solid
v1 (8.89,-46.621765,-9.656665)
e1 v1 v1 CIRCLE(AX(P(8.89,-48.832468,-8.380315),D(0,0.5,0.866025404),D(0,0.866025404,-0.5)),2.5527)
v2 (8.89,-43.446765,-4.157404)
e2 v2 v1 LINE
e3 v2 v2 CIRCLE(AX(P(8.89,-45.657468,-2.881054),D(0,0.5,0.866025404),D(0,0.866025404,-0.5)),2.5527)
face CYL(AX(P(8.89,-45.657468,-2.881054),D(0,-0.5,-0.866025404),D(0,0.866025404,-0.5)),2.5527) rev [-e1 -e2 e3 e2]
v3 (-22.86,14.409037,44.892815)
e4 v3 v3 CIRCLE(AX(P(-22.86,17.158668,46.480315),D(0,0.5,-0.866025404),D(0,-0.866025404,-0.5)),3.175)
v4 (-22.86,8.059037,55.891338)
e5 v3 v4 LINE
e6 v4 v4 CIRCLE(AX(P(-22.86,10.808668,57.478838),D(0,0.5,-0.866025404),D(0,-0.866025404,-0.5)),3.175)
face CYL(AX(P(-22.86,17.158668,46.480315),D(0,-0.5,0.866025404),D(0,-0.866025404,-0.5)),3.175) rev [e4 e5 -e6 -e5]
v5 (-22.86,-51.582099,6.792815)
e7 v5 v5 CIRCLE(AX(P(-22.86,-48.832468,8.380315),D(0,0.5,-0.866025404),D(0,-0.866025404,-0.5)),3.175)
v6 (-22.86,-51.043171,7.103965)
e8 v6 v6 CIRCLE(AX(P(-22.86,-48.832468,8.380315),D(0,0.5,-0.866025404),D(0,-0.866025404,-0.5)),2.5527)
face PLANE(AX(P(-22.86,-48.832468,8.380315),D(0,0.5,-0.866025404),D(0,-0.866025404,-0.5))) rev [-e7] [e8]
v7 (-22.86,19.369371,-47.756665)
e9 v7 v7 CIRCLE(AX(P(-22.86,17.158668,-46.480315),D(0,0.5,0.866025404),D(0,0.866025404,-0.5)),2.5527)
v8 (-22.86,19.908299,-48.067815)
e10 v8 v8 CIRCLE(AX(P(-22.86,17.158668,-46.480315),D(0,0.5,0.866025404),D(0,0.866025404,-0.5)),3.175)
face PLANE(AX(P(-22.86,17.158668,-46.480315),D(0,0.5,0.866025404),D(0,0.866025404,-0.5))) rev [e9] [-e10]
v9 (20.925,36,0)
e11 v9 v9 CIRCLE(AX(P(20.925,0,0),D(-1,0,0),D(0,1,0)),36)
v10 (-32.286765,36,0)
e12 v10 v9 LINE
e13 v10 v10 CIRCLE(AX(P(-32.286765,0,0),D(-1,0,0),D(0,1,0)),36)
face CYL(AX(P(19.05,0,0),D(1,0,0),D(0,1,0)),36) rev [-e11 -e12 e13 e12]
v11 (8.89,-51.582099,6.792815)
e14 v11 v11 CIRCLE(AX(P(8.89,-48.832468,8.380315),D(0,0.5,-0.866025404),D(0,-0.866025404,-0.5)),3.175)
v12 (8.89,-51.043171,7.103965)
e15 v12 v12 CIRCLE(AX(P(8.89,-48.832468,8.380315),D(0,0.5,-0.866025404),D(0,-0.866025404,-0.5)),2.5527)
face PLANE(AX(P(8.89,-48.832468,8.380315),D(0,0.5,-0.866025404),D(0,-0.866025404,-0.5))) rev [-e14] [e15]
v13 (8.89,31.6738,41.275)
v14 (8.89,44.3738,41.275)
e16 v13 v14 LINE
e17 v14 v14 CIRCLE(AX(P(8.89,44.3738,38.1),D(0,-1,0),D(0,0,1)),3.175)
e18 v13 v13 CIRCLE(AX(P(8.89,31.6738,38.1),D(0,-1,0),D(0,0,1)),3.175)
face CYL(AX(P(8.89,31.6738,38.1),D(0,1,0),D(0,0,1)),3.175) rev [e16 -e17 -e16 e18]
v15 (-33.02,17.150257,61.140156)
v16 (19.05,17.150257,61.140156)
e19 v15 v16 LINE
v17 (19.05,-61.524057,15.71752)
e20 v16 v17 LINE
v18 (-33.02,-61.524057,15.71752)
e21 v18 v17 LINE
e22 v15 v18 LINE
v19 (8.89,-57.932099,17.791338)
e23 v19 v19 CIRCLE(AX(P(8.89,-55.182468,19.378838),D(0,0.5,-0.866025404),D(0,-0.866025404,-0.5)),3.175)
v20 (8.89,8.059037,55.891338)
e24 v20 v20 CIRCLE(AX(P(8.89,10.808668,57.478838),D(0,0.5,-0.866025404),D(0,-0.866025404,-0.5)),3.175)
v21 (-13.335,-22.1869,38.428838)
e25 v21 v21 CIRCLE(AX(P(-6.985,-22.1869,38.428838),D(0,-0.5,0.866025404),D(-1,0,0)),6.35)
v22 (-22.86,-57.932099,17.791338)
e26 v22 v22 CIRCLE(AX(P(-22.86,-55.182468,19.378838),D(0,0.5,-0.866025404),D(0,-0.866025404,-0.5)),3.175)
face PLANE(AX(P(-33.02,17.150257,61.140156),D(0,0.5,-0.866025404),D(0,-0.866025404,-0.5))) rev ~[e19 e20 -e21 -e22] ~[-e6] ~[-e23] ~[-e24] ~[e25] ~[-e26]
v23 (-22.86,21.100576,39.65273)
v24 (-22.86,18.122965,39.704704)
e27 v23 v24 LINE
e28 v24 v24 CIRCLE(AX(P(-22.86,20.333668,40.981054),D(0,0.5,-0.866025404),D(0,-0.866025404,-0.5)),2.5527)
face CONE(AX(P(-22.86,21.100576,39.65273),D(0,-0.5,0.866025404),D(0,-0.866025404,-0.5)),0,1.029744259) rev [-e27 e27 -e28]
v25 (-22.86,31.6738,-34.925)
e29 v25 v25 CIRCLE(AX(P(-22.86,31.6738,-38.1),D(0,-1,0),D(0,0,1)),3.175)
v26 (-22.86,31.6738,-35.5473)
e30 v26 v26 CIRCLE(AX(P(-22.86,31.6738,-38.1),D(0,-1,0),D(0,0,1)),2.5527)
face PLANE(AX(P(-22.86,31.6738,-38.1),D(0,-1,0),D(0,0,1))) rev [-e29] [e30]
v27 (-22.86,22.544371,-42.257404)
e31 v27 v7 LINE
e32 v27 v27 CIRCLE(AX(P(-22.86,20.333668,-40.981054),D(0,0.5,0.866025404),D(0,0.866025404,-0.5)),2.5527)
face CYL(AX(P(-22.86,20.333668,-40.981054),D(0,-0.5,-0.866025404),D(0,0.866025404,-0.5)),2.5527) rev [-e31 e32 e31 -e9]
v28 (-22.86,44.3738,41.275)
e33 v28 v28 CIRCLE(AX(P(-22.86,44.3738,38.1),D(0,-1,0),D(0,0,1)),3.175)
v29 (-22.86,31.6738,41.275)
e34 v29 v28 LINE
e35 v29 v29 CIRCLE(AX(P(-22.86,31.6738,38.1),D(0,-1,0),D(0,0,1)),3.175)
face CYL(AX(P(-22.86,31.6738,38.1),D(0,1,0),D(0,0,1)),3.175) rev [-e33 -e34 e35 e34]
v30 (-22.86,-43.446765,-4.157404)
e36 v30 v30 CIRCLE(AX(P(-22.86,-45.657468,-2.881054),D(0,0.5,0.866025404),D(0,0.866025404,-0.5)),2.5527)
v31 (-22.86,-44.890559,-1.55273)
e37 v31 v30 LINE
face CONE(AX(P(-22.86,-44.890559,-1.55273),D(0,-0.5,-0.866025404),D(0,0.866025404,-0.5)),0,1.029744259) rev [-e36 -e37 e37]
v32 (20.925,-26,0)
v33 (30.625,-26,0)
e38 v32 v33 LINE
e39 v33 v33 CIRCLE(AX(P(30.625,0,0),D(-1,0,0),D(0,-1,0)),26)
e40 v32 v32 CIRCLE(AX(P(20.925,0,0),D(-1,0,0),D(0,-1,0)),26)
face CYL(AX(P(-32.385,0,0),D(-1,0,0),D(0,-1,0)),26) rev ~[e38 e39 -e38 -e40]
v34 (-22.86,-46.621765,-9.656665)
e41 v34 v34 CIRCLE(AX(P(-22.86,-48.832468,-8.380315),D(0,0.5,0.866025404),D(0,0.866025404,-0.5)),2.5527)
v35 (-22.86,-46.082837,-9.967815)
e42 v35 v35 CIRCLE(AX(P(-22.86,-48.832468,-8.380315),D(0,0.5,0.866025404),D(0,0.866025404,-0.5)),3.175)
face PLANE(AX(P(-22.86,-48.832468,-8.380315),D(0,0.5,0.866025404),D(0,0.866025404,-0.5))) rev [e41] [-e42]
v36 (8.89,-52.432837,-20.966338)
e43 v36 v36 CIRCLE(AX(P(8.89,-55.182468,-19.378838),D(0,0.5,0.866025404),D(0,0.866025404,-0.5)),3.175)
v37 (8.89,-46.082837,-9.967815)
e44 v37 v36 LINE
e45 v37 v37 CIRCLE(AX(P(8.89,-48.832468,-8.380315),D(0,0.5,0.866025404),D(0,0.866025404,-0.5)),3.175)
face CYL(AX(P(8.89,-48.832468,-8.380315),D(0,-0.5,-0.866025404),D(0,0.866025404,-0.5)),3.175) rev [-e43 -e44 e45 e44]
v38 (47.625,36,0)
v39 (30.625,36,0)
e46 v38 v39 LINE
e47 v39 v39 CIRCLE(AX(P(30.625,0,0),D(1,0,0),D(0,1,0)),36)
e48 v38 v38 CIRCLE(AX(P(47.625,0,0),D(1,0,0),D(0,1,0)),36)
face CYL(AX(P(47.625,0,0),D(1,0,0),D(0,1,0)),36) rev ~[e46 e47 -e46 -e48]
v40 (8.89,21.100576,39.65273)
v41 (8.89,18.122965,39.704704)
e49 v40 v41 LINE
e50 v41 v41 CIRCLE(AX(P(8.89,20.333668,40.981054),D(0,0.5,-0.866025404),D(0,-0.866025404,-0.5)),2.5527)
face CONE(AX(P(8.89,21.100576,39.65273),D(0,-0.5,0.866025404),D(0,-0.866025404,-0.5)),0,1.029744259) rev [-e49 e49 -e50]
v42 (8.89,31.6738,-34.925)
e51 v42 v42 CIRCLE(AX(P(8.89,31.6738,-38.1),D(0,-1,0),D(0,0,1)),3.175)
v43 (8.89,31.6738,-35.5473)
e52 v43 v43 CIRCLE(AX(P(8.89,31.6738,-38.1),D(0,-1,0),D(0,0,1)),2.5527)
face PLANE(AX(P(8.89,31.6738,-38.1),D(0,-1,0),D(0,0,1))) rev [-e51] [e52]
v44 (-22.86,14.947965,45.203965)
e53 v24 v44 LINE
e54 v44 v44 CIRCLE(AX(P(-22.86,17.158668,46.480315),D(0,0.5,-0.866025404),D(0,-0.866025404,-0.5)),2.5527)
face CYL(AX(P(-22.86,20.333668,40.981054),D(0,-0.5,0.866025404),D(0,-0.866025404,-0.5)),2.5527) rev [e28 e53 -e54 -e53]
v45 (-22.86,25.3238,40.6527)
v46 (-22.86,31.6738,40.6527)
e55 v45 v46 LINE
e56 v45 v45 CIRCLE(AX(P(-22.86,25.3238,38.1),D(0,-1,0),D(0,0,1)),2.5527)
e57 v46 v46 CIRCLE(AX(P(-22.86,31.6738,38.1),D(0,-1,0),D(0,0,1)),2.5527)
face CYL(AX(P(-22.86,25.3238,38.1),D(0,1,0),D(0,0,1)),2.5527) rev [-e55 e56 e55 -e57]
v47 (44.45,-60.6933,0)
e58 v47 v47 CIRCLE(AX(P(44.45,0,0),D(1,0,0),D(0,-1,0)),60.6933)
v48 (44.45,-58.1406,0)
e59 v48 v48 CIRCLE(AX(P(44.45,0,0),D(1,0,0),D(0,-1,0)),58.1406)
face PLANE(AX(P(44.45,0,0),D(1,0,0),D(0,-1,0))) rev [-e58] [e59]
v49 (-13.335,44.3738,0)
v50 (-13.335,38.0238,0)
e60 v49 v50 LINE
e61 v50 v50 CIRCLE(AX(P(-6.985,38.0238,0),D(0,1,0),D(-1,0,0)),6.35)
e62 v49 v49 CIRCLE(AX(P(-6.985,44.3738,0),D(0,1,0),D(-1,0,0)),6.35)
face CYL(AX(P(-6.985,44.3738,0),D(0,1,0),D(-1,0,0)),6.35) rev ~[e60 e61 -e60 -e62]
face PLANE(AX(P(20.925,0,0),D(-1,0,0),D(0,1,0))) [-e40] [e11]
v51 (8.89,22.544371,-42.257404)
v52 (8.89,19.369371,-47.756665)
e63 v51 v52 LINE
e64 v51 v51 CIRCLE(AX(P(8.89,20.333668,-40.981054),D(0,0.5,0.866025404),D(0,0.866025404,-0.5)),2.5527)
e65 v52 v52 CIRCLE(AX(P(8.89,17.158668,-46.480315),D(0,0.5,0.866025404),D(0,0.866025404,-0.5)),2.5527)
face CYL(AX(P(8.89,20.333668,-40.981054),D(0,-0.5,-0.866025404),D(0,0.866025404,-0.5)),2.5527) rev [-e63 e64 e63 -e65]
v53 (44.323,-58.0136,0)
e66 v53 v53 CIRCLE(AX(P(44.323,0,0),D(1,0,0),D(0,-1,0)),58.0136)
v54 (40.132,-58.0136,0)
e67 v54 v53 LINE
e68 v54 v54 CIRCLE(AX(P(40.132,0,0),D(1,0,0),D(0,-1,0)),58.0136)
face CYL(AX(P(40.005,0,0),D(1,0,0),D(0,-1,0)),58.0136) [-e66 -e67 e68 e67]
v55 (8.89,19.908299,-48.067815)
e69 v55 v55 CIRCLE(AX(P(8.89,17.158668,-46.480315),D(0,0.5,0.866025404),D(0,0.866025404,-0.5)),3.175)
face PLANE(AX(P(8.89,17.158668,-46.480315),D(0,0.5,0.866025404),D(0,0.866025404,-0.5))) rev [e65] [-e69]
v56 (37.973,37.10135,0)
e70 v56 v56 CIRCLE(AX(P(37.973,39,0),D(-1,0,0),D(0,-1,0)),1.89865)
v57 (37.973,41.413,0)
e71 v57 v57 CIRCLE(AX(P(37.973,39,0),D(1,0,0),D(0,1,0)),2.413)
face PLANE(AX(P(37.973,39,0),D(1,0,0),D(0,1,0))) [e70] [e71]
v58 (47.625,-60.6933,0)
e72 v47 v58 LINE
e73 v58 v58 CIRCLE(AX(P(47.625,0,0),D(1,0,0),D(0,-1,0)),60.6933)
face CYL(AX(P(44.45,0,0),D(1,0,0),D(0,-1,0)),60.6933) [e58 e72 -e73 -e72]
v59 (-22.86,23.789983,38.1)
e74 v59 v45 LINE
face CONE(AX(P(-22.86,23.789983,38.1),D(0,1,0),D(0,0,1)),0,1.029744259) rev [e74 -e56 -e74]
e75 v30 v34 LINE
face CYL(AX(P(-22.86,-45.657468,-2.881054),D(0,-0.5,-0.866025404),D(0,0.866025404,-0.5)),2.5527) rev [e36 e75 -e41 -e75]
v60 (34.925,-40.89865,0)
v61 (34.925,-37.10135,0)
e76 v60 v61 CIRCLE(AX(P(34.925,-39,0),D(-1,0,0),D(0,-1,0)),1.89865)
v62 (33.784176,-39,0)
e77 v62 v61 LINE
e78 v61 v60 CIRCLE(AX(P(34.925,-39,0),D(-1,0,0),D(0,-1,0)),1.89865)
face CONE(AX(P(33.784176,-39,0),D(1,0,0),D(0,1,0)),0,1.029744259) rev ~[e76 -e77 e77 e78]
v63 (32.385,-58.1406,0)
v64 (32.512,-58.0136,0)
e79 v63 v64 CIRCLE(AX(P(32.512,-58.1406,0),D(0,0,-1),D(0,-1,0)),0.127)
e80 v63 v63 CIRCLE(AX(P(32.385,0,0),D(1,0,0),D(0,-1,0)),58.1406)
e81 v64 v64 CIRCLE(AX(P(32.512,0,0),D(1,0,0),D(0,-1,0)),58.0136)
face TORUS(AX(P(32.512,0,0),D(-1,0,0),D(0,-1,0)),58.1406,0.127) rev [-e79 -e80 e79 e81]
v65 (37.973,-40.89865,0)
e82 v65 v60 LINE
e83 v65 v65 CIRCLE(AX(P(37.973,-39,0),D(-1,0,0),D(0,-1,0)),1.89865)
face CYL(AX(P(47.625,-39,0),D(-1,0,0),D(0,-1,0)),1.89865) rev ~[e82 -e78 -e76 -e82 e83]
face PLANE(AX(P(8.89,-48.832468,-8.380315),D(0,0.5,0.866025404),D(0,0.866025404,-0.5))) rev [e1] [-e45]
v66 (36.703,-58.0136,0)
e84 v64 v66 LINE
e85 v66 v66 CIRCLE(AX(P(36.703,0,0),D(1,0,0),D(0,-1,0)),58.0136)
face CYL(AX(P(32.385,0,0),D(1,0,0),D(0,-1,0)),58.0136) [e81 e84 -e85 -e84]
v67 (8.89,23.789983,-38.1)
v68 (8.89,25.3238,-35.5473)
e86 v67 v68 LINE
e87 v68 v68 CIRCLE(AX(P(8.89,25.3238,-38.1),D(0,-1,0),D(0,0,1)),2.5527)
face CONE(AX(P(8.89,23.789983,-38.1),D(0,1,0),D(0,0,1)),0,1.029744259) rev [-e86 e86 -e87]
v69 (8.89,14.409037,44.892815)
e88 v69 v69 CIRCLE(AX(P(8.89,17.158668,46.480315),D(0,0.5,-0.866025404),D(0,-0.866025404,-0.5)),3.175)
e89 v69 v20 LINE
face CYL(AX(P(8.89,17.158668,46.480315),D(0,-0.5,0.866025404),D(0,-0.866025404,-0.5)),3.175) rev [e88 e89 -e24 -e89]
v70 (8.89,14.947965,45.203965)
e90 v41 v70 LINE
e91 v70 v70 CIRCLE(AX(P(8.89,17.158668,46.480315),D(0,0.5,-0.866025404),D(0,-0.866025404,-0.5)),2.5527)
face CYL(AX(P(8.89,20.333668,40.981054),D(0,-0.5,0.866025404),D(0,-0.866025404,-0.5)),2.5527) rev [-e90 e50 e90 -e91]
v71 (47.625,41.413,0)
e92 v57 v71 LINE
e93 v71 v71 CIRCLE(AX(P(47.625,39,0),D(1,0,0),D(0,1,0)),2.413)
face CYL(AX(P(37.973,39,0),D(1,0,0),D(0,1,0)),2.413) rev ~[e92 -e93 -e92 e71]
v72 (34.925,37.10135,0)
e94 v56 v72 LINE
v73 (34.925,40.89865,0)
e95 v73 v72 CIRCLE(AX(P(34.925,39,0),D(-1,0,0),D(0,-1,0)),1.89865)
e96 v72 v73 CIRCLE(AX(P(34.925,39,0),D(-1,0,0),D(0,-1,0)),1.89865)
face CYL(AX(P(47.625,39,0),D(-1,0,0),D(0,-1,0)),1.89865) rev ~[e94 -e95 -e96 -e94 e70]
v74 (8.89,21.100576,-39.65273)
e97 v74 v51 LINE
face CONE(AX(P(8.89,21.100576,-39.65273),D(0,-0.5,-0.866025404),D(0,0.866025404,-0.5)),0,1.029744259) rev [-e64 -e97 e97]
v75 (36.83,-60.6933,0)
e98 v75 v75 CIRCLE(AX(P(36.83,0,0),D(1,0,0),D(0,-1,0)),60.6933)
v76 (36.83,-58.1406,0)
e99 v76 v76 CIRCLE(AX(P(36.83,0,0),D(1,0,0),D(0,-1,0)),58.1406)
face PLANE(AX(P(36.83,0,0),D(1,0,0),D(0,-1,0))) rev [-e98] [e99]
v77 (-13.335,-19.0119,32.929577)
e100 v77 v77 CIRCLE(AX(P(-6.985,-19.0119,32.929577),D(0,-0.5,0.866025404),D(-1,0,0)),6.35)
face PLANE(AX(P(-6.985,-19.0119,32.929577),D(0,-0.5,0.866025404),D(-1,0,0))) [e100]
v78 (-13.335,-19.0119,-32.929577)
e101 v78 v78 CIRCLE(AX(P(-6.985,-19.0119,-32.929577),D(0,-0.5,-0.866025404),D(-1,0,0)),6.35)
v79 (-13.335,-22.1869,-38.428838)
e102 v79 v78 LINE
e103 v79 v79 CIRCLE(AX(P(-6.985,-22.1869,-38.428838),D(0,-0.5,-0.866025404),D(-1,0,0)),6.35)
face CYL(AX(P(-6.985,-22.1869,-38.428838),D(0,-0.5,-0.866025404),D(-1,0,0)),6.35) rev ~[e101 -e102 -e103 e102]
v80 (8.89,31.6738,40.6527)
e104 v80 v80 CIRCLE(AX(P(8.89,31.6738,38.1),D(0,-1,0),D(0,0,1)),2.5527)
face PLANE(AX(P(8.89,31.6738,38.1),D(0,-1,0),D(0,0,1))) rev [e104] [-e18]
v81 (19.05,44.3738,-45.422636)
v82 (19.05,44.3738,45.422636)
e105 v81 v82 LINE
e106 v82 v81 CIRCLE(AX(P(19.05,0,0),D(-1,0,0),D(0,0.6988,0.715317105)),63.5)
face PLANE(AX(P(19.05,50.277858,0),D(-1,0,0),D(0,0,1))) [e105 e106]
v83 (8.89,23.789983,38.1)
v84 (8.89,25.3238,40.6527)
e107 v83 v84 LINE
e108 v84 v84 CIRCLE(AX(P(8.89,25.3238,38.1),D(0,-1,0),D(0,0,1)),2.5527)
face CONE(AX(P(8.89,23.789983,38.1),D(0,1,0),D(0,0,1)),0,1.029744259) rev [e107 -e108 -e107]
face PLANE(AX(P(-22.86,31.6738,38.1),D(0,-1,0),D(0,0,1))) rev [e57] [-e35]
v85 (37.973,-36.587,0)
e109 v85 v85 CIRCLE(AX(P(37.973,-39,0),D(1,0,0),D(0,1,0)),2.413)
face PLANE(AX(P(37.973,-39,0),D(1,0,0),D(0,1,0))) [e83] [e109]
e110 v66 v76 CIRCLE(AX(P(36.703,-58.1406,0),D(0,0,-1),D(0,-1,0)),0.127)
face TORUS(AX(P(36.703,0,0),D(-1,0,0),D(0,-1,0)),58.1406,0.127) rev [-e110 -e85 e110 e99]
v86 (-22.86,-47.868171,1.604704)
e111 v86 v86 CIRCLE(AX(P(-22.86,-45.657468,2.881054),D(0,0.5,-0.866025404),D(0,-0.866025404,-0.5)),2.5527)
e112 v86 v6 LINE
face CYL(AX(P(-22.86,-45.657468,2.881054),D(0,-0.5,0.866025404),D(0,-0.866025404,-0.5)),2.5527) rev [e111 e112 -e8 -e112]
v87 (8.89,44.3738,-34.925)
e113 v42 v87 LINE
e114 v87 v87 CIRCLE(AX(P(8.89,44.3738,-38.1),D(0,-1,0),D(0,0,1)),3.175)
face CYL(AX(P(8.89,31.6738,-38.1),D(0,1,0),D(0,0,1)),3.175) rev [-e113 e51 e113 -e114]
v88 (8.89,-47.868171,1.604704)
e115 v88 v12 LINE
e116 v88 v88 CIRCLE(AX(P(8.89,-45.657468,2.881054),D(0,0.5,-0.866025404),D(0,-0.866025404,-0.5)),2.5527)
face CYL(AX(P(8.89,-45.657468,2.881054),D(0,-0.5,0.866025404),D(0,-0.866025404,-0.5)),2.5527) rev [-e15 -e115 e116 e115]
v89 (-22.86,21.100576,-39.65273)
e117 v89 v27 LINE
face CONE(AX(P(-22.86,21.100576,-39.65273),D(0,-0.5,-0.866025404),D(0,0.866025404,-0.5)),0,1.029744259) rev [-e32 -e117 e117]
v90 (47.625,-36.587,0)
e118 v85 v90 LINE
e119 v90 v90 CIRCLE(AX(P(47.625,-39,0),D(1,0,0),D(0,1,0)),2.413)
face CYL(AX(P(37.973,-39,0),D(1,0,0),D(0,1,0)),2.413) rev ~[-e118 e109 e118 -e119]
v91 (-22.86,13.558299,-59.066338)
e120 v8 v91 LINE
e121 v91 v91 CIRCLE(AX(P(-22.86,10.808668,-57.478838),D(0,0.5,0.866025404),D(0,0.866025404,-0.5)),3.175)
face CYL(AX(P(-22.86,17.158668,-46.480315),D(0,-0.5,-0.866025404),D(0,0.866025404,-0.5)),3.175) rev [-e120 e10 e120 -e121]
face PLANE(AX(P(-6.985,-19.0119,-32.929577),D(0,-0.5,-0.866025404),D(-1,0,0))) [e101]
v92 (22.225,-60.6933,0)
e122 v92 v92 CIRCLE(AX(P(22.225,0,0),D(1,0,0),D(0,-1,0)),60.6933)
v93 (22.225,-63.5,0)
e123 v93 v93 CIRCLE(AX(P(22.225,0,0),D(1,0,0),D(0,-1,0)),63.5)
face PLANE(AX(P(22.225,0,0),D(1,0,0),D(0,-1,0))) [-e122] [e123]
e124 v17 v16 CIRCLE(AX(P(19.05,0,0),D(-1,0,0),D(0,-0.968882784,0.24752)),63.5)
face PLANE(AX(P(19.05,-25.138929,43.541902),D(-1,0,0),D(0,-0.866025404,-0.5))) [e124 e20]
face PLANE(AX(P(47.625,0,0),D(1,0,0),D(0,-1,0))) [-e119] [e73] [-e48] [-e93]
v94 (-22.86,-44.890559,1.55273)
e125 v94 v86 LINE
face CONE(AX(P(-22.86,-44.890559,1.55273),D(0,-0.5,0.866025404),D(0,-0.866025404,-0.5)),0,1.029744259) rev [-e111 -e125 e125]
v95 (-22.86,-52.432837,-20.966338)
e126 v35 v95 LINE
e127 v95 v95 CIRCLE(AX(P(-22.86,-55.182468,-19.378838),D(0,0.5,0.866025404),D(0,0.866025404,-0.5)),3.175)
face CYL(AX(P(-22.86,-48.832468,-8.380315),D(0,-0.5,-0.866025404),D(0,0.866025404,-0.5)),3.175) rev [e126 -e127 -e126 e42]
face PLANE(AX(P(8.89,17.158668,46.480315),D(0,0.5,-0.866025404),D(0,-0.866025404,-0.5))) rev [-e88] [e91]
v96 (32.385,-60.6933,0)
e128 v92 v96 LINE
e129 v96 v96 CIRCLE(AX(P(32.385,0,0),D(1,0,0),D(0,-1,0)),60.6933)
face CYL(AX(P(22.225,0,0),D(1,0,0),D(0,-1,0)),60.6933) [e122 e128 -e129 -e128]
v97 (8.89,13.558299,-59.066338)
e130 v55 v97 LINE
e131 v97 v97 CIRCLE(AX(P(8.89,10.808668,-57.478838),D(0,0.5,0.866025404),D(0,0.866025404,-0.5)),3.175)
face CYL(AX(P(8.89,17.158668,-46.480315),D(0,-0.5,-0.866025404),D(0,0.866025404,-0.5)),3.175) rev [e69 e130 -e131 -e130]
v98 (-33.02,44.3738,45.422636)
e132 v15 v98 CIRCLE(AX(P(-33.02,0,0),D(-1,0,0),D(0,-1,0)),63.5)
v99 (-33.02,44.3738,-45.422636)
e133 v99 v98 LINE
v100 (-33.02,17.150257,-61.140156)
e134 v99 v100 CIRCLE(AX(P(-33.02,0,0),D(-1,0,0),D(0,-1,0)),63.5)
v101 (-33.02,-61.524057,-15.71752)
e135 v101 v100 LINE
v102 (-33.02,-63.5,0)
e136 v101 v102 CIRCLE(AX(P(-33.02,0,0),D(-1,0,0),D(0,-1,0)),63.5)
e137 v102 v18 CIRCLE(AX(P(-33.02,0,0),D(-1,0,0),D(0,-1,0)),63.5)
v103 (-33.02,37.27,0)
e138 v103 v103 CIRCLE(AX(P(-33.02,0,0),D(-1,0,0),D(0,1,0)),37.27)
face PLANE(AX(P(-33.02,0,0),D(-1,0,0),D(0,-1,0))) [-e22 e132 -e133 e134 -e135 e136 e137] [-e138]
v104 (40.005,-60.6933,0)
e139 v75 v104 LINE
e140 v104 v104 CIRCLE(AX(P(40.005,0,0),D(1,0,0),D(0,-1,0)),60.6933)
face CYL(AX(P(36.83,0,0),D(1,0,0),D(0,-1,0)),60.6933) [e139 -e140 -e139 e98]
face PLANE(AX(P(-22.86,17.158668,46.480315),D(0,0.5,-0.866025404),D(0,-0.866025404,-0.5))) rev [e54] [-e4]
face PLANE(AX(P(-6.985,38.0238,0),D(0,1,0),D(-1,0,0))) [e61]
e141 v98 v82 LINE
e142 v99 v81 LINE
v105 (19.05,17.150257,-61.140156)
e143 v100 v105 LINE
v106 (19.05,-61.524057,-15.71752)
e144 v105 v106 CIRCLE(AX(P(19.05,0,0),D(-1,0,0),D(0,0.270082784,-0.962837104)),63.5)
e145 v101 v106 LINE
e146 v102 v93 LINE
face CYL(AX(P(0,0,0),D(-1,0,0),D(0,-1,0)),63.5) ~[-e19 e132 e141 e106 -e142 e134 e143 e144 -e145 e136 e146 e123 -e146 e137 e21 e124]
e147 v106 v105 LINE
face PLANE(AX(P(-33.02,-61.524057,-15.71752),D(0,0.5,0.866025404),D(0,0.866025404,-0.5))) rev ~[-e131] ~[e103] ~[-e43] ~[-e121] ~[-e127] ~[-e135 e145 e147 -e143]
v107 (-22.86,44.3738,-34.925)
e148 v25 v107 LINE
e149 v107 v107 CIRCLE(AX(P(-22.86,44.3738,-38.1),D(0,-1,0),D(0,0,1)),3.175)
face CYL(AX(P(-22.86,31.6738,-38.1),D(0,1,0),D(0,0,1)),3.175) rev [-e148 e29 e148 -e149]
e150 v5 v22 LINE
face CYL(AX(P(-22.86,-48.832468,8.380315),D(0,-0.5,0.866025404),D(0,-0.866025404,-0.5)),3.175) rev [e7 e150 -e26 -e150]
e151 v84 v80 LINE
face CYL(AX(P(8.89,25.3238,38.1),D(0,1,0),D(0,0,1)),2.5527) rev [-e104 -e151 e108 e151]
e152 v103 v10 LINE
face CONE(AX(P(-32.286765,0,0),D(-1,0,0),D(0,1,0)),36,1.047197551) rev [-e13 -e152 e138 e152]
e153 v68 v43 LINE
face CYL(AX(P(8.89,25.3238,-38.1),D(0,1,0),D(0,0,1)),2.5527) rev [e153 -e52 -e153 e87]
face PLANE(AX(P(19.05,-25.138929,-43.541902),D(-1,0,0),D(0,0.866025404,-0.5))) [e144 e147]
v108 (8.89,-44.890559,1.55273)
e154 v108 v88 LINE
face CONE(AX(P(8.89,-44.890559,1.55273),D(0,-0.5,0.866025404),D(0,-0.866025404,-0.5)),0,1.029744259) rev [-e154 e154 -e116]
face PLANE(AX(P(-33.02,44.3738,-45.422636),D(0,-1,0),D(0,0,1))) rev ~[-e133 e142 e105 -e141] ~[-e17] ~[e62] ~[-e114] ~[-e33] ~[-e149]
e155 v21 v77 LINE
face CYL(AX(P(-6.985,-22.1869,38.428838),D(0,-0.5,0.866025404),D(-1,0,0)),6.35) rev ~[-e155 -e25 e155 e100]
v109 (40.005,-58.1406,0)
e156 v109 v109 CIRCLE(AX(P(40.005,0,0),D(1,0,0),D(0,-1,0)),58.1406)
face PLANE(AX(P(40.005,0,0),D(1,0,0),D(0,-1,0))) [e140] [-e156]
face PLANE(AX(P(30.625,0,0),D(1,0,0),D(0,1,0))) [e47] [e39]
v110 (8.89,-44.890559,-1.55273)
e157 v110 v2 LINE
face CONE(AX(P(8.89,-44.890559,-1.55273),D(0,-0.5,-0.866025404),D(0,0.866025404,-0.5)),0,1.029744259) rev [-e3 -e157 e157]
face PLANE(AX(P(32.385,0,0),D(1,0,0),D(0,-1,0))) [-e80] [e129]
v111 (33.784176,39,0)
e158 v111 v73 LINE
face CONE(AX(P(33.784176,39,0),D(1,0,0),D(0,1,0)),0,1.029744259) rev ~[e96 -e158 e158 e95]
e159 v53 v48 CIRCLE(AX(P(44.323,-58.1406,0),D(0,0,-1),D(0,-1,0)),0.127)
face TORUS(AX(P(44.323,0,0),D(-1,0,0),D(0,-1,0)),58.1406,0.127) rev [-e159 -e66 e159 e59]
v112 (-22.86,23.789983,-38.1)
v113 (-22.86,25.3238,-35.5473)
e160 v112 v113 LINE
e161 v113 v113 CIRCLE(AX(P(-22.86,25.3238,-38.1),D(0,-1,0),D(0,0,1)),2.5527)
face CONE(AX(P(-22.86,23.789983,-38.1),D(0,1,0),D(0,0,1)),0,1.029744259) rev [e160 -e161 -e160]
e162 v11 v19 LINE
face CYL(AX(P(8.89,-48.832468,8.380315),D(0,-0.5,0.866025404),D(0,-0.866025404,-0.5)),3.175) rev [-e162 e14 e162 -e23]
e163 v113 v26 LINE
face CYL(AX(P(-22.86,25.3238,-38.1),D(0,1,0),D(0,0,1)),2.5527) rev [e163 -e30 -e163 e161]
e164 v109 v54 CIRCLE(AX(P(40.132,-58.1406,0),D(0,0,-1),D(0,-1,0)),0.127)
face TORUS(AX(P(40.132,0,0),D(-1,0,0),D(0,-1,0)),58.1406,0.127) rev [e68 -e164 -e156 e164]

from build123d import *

# Parameters (mm, degrees)
CUT_EXTRUDE2_DEPTH               = 19.05
F_6_32_TAPPED_HOLE2_AT_2_COUNT   = 2
F_6_32_TAPPED_HOLE2_AT_2_PITCH   = 48.360159222
F_6_32_TAPPED_HOLE2_AT_3_COUNT   = 2
F_6_32_TAPPED_HOLE2_AT_3_PITCH   = 44.45
F_6_32_TAPPED_HOLE2_AT_4_COUNT   = 2
F_6_32_TAPPED_HOLE2_AT_4_PITCH   = 19.05
CIRPATTERN4_COUNT                = 3
FILLET1_R                        = 0.127
SKETCH26_R                       = 60.6933
CUT_EXTRUDE8_DEPTH               = 15.24
FILLET2_R                        = 3.175
FILLET3_R                        = 3.175
FILLET4_R                        = 3.175
SKETCH37_R                       = 36
CUT_EXTRUDE11_DEPTH              = 17
CUT_EXTRUDE12_REACH              = 122.275
SKETCH38_R                       = 26
CUT_EXTRUDE13_START              = -53.31
SKETCH39_R                       = 36
CUT_EXTRUDE13_DEPTH              = 53.31
BOSS_EXTRUDE1_DEPTH              = 0.635
BOSS_EXTRUDE1_DEPTH_BACK         = 51.435
SKETCH53_R                       = 63.5
SKETCH53_R_2                     = 36
CUT_EXTRUDE17_DEPTH              = 52.07
SKETCH55_R                       = 6.35
CUT_EXTRUDE18_DEPTH              = 6.35
F_1_4_20_TAPPED_HOLE2_AT_2_COUNT = 2
F_1_4_20_TAPPED_HOLE2_AT_2_PITCH = 31.75
F_1_4_20_TAPPED_HOLE2_AT_3_COUNT = 2
F_1_4_20_TAPPED_HOLE2_AT_3_PITCH = 82.55
F_1_4_20_TAPPED_HOLE2_AT_4_COUNT = 2
F_1_4_20_TAPPED_HOLE2_AT_4_PITCH = 76.2
CIRPATTERN6_COUNT                = 3
CHAMFER1_SIZE                    = 1.27
CHAMFER1_SIZE2                   = 0.733234842
F_10_24_TAPPED_HOLE1_D           = 3.7973
F_10_24_TAPPED_HOLE1_DEPTH       = 12.7
F_10_24_TAPPED_HOLE1_CBORE_D     = 4.826
F_10_24_TAPPED_HOLE1_CBORE_DEPTH = 9.652
F_10_24_TAPPED_HOLE1_TIP         = 1.140824014


with BuildPart() as part:
    # Sketch4 → Revolve1 (revolve)
    with BuildSketch(Plane.XY, mode=Mode.PRIVATE) as revolve1_sk:
        Polygon((0, 0), (0, 63.5), (22.225, 63.5), (22.225, 60.6933), (32.385, 60.6933), (32.385, 58.0136), (36.83, 58.0136), (36.83, 60.6933), (40.005, 60.6933), (40.005, 58.0136), (44.45, 58.0136), (44.45, 60.6933), (47.625, 60.6933), (47.625, 0), align=None)
    revolve(revolve1_sk.sketch.rotate(Axis((0, 0, 0), (1, 0, 0)), 180), axis=Axis((0, 0, 0), (1, 0, 0)))

    # Mirror2: part across plane


with BuildPart() as part_1:
    add(part.part)
    add(part.part.mirror(Plane(origin=(0, 0, 0), x_dir=(0, 0, 1), z_dir=(1, 0, 0))))

    # Sketch8 → Cut-Extrude2 (cut, symmetric)
    with BuildSketch(Plane(origin=(0, 0, 0), x_dir=(0, 0, -1), z_dir=(1, 0, 0))):
        with BuildLine():
            Line((-31.75, 48.64261314), (31.75, 48.64261314))
            Line((31.75, 48.64261314), (31.75, 54.99261314))
            ThreePointArc((31.75, 54.99261314), (0, 63.5), (-31.75, 54.99261314))
            Line((-31.75, 54.99261314), (-31.75, 48.64261314))
        make_face()
    cut_extrude2 = extrude(amount=CUT_EXTRUDE2_DEPTH, both=True, mode=Mode.SUBTRACT)

    # Sketch33 → #6-32 Tapped Hole2 (revolve, cut)
    with BuildSketch(Plane(origin=(-9.525, 48.64261314, -22.225), x_dir=(0, 0, 1), z_dir=(1, 0, 0))):
        Polygon((0, 0), (0, 8.81269403), (1.35255, 8), (1.35255, 5.588), (1.7526, 5.588), (1.7526, 0), align=None)
    f_6_32_tapped_hole2 = revolve(axis=Axis((-9.525, 54.99261314, -22.225), (0, -1, 0)), mode=Mode.SUBTRACT)

    # #6-32 Tapped Hole2 at 2: #6-32 Tapped Hole2 ×2
    with Locations(*[Vector(0.3939192985791678, 0, 0.9191450300180579) * (i * F_6_32_TAPPED_HOLE2_AT_2_PITCH) for i in range(1, F_6_32_TAPPED_HOLE2_AT_2_COUNT)]):
        add(f_6_32_tapped_hole2, mode=Mode.SUBTRACT)

    # #6-32 Tapped Hole2 at 3: #6-32 Tapped Hole2 ×2
    with Locations(*[(0, 0, i * F_6_32_TAPPED_HOLE2_AT_3_PITCH) for i in range(1, F_6_32_TAPPED_HOLE2_AT_3_COUNT)]):
        add(f_6_32_tapped_hole2, mode=Mode.SUBTRACT)

    # #6-32 Tapped Hole2 at 4: #6-32 Tapped Hole2 ×2
    with Locations(*[(i * F_6_32_TAPPED_HOLE2_AT_4_PITCH, 0, 0) for i in range(1, F_6_32_TAPPED_HOLE2_AT_4_COUNT)]):
        add(f_6_32_tapped_hole2, mode=Mode.SUBTRACT)

    # CirPattern4: Cut-Extrude2, #6-32 Tapped Hole2 ×3 about axis
    cirpattern4_axis = Axis((0, 0, 0), (1, 0, 0))
    add([cut_extrude2.rotate(cirpattern4_axis, i * 360 / CIRPATTERN4_COUNT) for i in range(1, CIRPATTERN4_COUNT)], mode=Mode.SUBTRACT)
    add([f_6_32_tapped_hole2.rotate(cirpattern4_axis, i * 360 / CIRPATTERN4_COUNT) for i in range(1, CIRPATTERN4_COUNT)], mode=Mode.SUBTRACT)

    # CirPattern4 copy 1 sketch → CirPattern4 copy 1 (revolve, cut)
    with BuildSketch(Plane(origin=(9.525, -43.568721169, 31.013238686), x_dir=(0, -0.8660254037844386, -0.49999999999999994), z_dir=(1, 0, 0))):
        Polygon((0, 0), (0, 8.81269403), (1.35255, 8), (1.35255, 5.588), (1.7526, 5.588), (1.7526, 0), align=None)
    revolve(axis=Axis((9.525, -46.743721169, 36.5125), (0, 0.49999999999999994, -0.8660254037844386)), mode=Mode.SUBTRACT)

    # CirPattern4 copy 2 sketch → CirPattern4 copy 2 (revolve, cut)
    with BuildSketch(Plane(origin=(9.525, -5.073891971, -53.238238686), x_dir=(0, 0.8660254037844385, -0.5000000000000002), z_dir=(1, 0, 0))):
        Polygon((0, 0), (0, 8.81269403), (1.35255, 8), (1.35255, 5.588), (1.7526, 5.588), (1.7526, 0), align=None)
    revolve(axis=Axis((9.525, -8.248891971, -58.7375), (0, 0.5000000000000002, 0.8660254037844385)), mode=Mode.SUBTRACT)

    # CirPattern4 copy 3 sketch → CirPattern4 copy 3 (revolve, cut)
    with BuildSketch(Plane(origin=(-9.525, -43.568721169, 31.013238686), x_dir=(0, -0.8660254037844386, -0.49999999999999994), z_dir=(1, 0, 0))):
        Polygon((0, 0), (0, 8.81269403), (1.35255, 8), (1.35255, 5.588), (1.7526, 5.588), (1.7526, 0), align=None)
    revolve(axis=Axis((-9.525, -46.743721169, 36.5125), (0, 0.49999999999999994, -0.8660254037844386)), mode=Mode.SUBTRACT)

    # CirPattern4 copy 4 sketch → CirPattern4 copy 4 (revolve, cut)
    with BuildSketch(Plane(origin=(-9.525, -5.073891971, -53.238238686), x_dir=(0, 0.8660254037844385, -0.5000000000000002), z_dir=(1, 0, 0))):
        Polygon((0, 0), (0, 8.81269403), (1.35255, 8), (1.35255, 5.588), (1.7526, 5.588), (1.7526, 0), align=None)
    revolve(axis=Axis((-9.525, -8.248891971, -58.7375), (0, 0.5000000000000002, 0.8660254037844385)), mode=Mode.SUBTRACT)

    # CirPattern4 copy 5 sketch → CirPattern4 copy 5 (revolve, cut)
    with BuildSketch(Plane(origin=(9.525, -5.073891971, 53.238238686), x_dir=(0, -0.8660254037844386, -0.49999999999999994), z_dir=(1, 0, 0))):
        Polygon((0, 0), (0, 8.81269403), (1.35255, 8), (1.35255, 5.588), (1.7526, 5.588), (1.7526, 0), align=None)
    revolve(axis=Axis((9.525, -8.248891971, 58.7375), (0, 0.49999999999999994, -0.8660254037844386)), mode=Mode.SUBTRACT)

    # CirPattern4 copy 6 sketch → CirPattern4 copy 6 (revolve, cut)
    with BuildSketch(Plane(origin=(9.525, -43.568721169, -31.013238686), x_dir=(0, 0.8660254037844385, -0.5000000000000002), z_dir=(1, 0, 0))):
        Polygon((0, 0), (0, 8.81269403), (1.35255, 8), (1.35255, 5.588), (1.7526, 5.588), (1.7526, 0), align=None)
    revolve(axis=Axis((9.525, -46.743721169, -36.5125), (0, 0.5000000000000002, 0.8660254037844385)), mode=Mode.SUBTRACT)

    # Fillet1
    fillet1_edges = [part_1.edges().sort_by_distance(p)[0] for p in [
        (44.45, 58.0136, 0),
        (40.005, 58.0136, 0),
        (36.83, 58.0136, 0),
        (32.385, 58.0136, 0),
    ]]
    fillet(fillet1_edges, radius=FILLET1_R)

    # Sketch26 → Cut-Extrude8 (cut)
    with BuildSketch(Plane.ZY.offset(47.625)):
        with Locations(Location((0, 0, 0), (0, 0, 270))):
            Circle(SKETCH26_R)
    extrude(amount=-CUT_EXTRUDE8_DEPTH, mode=Mode.SUBTRACT)

    # Fillet2
    fillet2_edges = [part_1.edges().sort_by_distance(p)[0] for p in [
        (-19.05, 1.5875, 60.750369343),
    ]]
    fillet(fillet2_edges, radius=FILLET2_R)

    # Fillet3
    fillet3_edges = [part_1.edges().sort_by_distance(p)[0] for p in [
        (19.05, 1.5875, 60.750369343),
    ]]
    fillet(fillet3_edges, radius=FILLET3_R)

    # Fillet4
    fillet4_edges = [part_1.edges().sort_by_distance(p)[0] for p in [
        (-19.05, 1.5875, -60.750369343),
        (-19.05, -53.40511314, -29.000369343),
        (19.05, 1.5875, -60.750369343),
        (19.05, -53.40511314, -29.000369343),
        (-19.05, 51.81761314, 31.75),
        (-19.05, 51.81761314, -31.75),
        (19.05, 51.81761314, 31.75),
        (19.05, 51.81761314, -31.75),
        (-19.05, -53.40511314, 29.000369343),
        (19.05, -53.40511314, 29.000369343),
    ]]
    fillet(fillet4_edges, radius=FILLET4_R)

    # Sketch37 → Cut-Extrude11 (cut)
    with BuildSketch(Plane(origin=(47.625, 0, 0), x_dir=(0, 0, -1), z_dir=(1, 0, 0))):
        with Locations(Location((0, 0, 0), (0, 0, 90))):
            Circle(SKETCH37_R)
    extrude(amount=-CUT_EXTRUDE11_DEPTH, mode=Mode.SUBTRACT)

    # Sketch38 → Cut-Extrude12 (cut, up to next)
    with BuildSketch(Plane.ZY.offset(32.385), mode=Mode.PRIVATE) as cut_extrude12_sk1:
        with Locations(Location((0, 0, 0), (0, 0, 270))):
            Circle(SKETCH38_R)
    cut_extrude12_tool1 = extrude(cut_extrude12_sk1.sketch, amount=-CUT_EXTRUDE12_REACH, mode=Mode.PRIVATE) & part_1.part
    add(cut_extrude12_tool1.solids().sort_by_distance((-32.385, 0, 0))[0], mode=Mode.SUBTRACT)

    # Sketch39 → Cut-Extrude13 (cut)
    with BuildSketch(Plane.ZY.offset(32.385).offset(CUT_EXTRUDE13_START)):
        with Locations(Location((0, 0, 0), (0, 0, 90))):
            Circle(SKETCH39_R)
    extrude(amount=CUT_EXTRUDE13_DEPTH, mode=Mode.SUBTRACT)

    # Sketch53 → Boss-Extrude1 (add, two sides: drawn at the far end of the back side and taken through both)
    with BuildSketch(Plane.ZY.offset(32.385).offset(-BOSS_EXTRUDE1_DEPTH_BACK)):
        with Locations(Location((0, 0, 0), (0, 0, 270))):
            Circle(SKETCH53_R)
        with Locations(Location((0, 0, 0), (0, 0, 90))):
            Circle(SKETCH53_R_2, mode=Mode.SUBTRACT)
    extrude(amount=BOSS_EXTRUDE1_DEPTH + BOSS_EXTRUDE1_DEPTH_BACK)

    # Sketch54 → Cut-Extrude17 (cut)
    with BuildSketch(Plane.ZY.offset(33.02)):
        with BuildLine():
            Line((-45.422636136, 44.3738), (45.422636136, 44.3738))
            ThreePointArc((45.422636136, 44.3738), (0, 63.5), (-45.422636136, 44.3738))
        make_face()
    cut_extrude17 = extrude(amount=-CUT_EXTRUDE17_DEPTH, mode=Mode.SUBTRACT)

    # Sketch55 → Cut-Extrude18 (cut)
    with BuildSketch(Plane(origin=(0, 44.3738, 0), x_dir=(1, 0, 0), z_dir=(0, 1, 0))):
        with Locations(Location((-6.985, 0, 0), (0, 0, 180))):
            Circle(SKETCH55_R)
    cut_extrude18 = extrude(amount=-CUT_EXTRUDE18_DEPTH, mode=Mode.SUBTRACT)

    # Sketch60 → 1/4-20 Tapped Hole2 (revolve, cut)
    with BuildSketch(Plane(origin=(-22.86, 44.3738, -38.1), x_dir=(0, 0, 1), z_dir=(1, 0, 0))):
        Polygon((0, 0), (0, 20.583816902), (2.5527, 19.05), (2.5527, 12.7), (3.175, 12.7), (3.175, 0), align=None)
    f_1_4_20_tapped_hole2 = revolve(axis=Axis((-22.86, 50.7238, -38.1), (0, -1, 0)), mode=Mode.SUBTRACT)

    # 1/4-20 Tapped Hole2 at 2: 1/4-20 Tapped Hole2 ×2
    with Locations(*[(i * F_1_4_20_TAPPED_HOLE2_AT_2_PITCH, 0, 0) for i in range(1, F_1_4_20_TAPPED_HOLE2_AT_2_COUNT)]):
        add(f_1_4_20_tapped_hole2, mode=Mode.SUBTRACT)

    # 1/4-20 Tapped Hole2 at 3: 1/4-20 Tapped Hole2 ×2
    with Locations(*[Vector(0.38461538461538486, 0, 0.923076923076923) * (i * F_1_4_20_TAPPED_HOLE2_AT_3_PITCH) for i in range(1, F_1_4_20_TAPPED_HOLE2_AT_3_COUNT)]):
        add(f_1_4_20_tapped_hole2, mode=Mode.SUBTRACT)

    # 1/4-20 Tapped Hole2 at 4: 1/4-20 Tapped Hole2 ×2
    with Locations(*[(0, 0, i * F_1_4_20_TAPPED_HOLE2_AT_4_PITCH) for i in range(1, F_1_4_20_TAPPED_HOLE2_AT_4_COUNT)]):
        add(f_1_4_20_tapped_hole2, mode=Mode.SUBTRACT)

    # CirPattern6: Cut-Extrude17, Cut-Extrude18, 1/4-20 Tapped Hole2 ×3 about axis
    cirpattern6_axis = Axis((0, 0, 0), (1, 0, 0))
    add([cut_extrude17.rotate(cirpattern6_axis, i * 360 / CIRPATTERN6_COUNT) for i in range(1, CIRPATTERN6_COUNT)], mode=Mode.SUBTRACT)
    add([cut_extrude18.rotate(cirpattern6_axis, i * 360 / CIRPATTERN6_COUNT) for i in range(1, CIRPATTERN6_COUNT)], mode=Mode.SUBTRACT)
    add([f_1_4_20_tapped_hole2.rotate(cirpattern6_axis, i * 360 / CIRPATTERN6_COUNT) for i in range(1, CIRPATTERN6_COUNT)], mode=Mode.SUBTRACT)

    # CirPattern6 copy 1 sketch → CirPattern6 copy 1 (revolve, cut)
    with BuildSketch(Plane(origin=(8.89, 10.808667884, 57.478838062), x_dir=(0, -0.8660254037844387, -0.4999999999999998), z_dir=(1, 0, 0))):
        Polygon((0, 0), (0, 20.583816902), (2.5527, 19.05), (2.5527, 12.7), (3.175, 12.7), (3.175, 0), align=None)
    revolve(axis=Axis((8.89, 7.633667884, 62.978099376), (0, 0.4999999999999998, -0.8660254037844387)), mode=Mode.SUBTRACT)

    # CirPattern6 copy 2 sketch → CirPattern6 copy 2 (revolve, cut)
    with BuildSketch(Plane(origin=(8.89, -55.182467884, -19.378838062), x_dir=(0, 0.8660254037844384, -0.5000000000000004), z_dir=(1, 0, 0))):
        Polygon((0, 0), (0, 20.583816902), (2.5527, 19.05), (2.5527, 12.7), (3.175, 12.7), (3.175, 0), align=None)
    revolve(axis=Axis((8.89, -58.357467884, -24.878099376), (0, 0.5000000000000004, 0.8660254037844384)), mode=Mode.SUBTRACT)

    # CirPattern6 copy 3 sketch → CirPattern6 copy 3 (revolve, cut)
    with BuildSketch(Plane(origin=(8.89, -55.182467884, 19.378838062), x_dir=(0, -0.8660254037844387, -0.4999999999999998), z_dir=(1, 0, 0))):
        Polygon((0, 0), (0, 20.583816902), (2.5527, 19.05), (2.5527, 12.7), (3.175, 12.7), (3.175, 0), align=None)
    revolve(axis=Axis((8.89, -58.357467884, 24.878099376), (0, 0.4999999999999998, -0.8660254037844387)), mode=Mode.SUBTRACT)

    # CirPattern6 copy 4 sketch → CirPattern6 copy 4 (revolve, cut)
    with BuildSketch(Plane(origin=(8.89, 10.808667884, -57.478838062), x_dir=(0, 0.8660254037844384, -0.5000000000000004), z_dir=(1, 0, 0))):
        Polygon((0, 0), (0, 20.583816902), (2.5527, 19.05), (2.5527, 12.7), (3.175, 12.7), (3.175, 0), align=None)
    revolve(axis=Axis((8.89, 7.633667884, -62.978099376), (0, 0.5000000000000004, 0.8660254037844384)), mode=Mode.SUBTRACT)

    # CirPattern6 copy 5 sketch → CirPattern6 copy 5 (revolve, cut)
    with BuildSketch(Plane(origin=(-22.86, -55.182467884, 19.378838062), x_dir=(0, -0.8660254037844387, -0.4999999999999998), z_dir=(1, 0, 0))):
        Polygon((0, 0), (0, 20.583816902), (2.5527, 19.05), (2.5527, 12.7), (3.175, 12.7), (3.175, 0), align=None)
    revolve(axis=Axis((-22.86, -58.357467884, 24.878099376), (0, 0.4999999999999998, -0.8660254037844387)), mode=Mode.SUBTRACT)

    # CirPattern6 copy 6 sketch → CirPattern6 copy 6 (revolve, cut)
    with BuildSketch(Plane(origin=(-22.86, 10.808667884, -57.478838062), x_dir=(0, 0.8660254037844384, -0.5000000000000004), z_dir=(1, 0, 0))):
        Polygon((0, 0), (0, 20.583816902), (2.5527, 19.05), (2.5527, 12.7), (3.175, 12.7), (3.175, 0), align=None)
    revolve(axis=Axis((-22.86, 7.633667884, -62.978099376), (0, 0.5000000000000004, 0.8660254037844384)), mode=Mode.SUBTRACT)

    # Chamfer1
    chamfer1_edges = [part_1.edges().sort_by_distance(p)[0] for p in [
        (-33.02, -36, 0),
    ]]
    chamfer1_side = [part_1.faces().sort_by_distance(p)[0] for p in [
        (-33.02, 42.74317952, 0),
    ]]
    chamfer(chamfer1_edges, length=CHAMFER1_SIZE, length2=CHAMFER1_SIZE2, reference=chamfer1_side[0])

    # #10-24 Tapped Hole1
    with Locations(Plane(origin=(47.625, 39, 0), x_dir=(0, 1, 0), z_dir=(1, 0, 0))):
        with Locations((0, 0), (-78, 0)):
            CounterBoreHole(F_10_24_TAPPED_HOLE1_D / 2, F_10_24_TAPPED_HOLE1_CBORE_D / 2, F_10_24_TAPPED_HOLE1_CBORE_DEPTH, depth=F_10_24_TAPPED_HOLE1_DEPTH)
            with Locations((0, 0, -(F_10_24_TAPPED_HOLE1_DEPTH + F_10_24_TAPPED_HOLE1_TIP / 2))):  # 118° drill point
                Cone(0, F_10_24_TAPPED_HOLE1_D / 2, F_10_24_TAPPED_HOLE1_TIP, mode=Mode.SUBTRACT)


solid = part_1.part
